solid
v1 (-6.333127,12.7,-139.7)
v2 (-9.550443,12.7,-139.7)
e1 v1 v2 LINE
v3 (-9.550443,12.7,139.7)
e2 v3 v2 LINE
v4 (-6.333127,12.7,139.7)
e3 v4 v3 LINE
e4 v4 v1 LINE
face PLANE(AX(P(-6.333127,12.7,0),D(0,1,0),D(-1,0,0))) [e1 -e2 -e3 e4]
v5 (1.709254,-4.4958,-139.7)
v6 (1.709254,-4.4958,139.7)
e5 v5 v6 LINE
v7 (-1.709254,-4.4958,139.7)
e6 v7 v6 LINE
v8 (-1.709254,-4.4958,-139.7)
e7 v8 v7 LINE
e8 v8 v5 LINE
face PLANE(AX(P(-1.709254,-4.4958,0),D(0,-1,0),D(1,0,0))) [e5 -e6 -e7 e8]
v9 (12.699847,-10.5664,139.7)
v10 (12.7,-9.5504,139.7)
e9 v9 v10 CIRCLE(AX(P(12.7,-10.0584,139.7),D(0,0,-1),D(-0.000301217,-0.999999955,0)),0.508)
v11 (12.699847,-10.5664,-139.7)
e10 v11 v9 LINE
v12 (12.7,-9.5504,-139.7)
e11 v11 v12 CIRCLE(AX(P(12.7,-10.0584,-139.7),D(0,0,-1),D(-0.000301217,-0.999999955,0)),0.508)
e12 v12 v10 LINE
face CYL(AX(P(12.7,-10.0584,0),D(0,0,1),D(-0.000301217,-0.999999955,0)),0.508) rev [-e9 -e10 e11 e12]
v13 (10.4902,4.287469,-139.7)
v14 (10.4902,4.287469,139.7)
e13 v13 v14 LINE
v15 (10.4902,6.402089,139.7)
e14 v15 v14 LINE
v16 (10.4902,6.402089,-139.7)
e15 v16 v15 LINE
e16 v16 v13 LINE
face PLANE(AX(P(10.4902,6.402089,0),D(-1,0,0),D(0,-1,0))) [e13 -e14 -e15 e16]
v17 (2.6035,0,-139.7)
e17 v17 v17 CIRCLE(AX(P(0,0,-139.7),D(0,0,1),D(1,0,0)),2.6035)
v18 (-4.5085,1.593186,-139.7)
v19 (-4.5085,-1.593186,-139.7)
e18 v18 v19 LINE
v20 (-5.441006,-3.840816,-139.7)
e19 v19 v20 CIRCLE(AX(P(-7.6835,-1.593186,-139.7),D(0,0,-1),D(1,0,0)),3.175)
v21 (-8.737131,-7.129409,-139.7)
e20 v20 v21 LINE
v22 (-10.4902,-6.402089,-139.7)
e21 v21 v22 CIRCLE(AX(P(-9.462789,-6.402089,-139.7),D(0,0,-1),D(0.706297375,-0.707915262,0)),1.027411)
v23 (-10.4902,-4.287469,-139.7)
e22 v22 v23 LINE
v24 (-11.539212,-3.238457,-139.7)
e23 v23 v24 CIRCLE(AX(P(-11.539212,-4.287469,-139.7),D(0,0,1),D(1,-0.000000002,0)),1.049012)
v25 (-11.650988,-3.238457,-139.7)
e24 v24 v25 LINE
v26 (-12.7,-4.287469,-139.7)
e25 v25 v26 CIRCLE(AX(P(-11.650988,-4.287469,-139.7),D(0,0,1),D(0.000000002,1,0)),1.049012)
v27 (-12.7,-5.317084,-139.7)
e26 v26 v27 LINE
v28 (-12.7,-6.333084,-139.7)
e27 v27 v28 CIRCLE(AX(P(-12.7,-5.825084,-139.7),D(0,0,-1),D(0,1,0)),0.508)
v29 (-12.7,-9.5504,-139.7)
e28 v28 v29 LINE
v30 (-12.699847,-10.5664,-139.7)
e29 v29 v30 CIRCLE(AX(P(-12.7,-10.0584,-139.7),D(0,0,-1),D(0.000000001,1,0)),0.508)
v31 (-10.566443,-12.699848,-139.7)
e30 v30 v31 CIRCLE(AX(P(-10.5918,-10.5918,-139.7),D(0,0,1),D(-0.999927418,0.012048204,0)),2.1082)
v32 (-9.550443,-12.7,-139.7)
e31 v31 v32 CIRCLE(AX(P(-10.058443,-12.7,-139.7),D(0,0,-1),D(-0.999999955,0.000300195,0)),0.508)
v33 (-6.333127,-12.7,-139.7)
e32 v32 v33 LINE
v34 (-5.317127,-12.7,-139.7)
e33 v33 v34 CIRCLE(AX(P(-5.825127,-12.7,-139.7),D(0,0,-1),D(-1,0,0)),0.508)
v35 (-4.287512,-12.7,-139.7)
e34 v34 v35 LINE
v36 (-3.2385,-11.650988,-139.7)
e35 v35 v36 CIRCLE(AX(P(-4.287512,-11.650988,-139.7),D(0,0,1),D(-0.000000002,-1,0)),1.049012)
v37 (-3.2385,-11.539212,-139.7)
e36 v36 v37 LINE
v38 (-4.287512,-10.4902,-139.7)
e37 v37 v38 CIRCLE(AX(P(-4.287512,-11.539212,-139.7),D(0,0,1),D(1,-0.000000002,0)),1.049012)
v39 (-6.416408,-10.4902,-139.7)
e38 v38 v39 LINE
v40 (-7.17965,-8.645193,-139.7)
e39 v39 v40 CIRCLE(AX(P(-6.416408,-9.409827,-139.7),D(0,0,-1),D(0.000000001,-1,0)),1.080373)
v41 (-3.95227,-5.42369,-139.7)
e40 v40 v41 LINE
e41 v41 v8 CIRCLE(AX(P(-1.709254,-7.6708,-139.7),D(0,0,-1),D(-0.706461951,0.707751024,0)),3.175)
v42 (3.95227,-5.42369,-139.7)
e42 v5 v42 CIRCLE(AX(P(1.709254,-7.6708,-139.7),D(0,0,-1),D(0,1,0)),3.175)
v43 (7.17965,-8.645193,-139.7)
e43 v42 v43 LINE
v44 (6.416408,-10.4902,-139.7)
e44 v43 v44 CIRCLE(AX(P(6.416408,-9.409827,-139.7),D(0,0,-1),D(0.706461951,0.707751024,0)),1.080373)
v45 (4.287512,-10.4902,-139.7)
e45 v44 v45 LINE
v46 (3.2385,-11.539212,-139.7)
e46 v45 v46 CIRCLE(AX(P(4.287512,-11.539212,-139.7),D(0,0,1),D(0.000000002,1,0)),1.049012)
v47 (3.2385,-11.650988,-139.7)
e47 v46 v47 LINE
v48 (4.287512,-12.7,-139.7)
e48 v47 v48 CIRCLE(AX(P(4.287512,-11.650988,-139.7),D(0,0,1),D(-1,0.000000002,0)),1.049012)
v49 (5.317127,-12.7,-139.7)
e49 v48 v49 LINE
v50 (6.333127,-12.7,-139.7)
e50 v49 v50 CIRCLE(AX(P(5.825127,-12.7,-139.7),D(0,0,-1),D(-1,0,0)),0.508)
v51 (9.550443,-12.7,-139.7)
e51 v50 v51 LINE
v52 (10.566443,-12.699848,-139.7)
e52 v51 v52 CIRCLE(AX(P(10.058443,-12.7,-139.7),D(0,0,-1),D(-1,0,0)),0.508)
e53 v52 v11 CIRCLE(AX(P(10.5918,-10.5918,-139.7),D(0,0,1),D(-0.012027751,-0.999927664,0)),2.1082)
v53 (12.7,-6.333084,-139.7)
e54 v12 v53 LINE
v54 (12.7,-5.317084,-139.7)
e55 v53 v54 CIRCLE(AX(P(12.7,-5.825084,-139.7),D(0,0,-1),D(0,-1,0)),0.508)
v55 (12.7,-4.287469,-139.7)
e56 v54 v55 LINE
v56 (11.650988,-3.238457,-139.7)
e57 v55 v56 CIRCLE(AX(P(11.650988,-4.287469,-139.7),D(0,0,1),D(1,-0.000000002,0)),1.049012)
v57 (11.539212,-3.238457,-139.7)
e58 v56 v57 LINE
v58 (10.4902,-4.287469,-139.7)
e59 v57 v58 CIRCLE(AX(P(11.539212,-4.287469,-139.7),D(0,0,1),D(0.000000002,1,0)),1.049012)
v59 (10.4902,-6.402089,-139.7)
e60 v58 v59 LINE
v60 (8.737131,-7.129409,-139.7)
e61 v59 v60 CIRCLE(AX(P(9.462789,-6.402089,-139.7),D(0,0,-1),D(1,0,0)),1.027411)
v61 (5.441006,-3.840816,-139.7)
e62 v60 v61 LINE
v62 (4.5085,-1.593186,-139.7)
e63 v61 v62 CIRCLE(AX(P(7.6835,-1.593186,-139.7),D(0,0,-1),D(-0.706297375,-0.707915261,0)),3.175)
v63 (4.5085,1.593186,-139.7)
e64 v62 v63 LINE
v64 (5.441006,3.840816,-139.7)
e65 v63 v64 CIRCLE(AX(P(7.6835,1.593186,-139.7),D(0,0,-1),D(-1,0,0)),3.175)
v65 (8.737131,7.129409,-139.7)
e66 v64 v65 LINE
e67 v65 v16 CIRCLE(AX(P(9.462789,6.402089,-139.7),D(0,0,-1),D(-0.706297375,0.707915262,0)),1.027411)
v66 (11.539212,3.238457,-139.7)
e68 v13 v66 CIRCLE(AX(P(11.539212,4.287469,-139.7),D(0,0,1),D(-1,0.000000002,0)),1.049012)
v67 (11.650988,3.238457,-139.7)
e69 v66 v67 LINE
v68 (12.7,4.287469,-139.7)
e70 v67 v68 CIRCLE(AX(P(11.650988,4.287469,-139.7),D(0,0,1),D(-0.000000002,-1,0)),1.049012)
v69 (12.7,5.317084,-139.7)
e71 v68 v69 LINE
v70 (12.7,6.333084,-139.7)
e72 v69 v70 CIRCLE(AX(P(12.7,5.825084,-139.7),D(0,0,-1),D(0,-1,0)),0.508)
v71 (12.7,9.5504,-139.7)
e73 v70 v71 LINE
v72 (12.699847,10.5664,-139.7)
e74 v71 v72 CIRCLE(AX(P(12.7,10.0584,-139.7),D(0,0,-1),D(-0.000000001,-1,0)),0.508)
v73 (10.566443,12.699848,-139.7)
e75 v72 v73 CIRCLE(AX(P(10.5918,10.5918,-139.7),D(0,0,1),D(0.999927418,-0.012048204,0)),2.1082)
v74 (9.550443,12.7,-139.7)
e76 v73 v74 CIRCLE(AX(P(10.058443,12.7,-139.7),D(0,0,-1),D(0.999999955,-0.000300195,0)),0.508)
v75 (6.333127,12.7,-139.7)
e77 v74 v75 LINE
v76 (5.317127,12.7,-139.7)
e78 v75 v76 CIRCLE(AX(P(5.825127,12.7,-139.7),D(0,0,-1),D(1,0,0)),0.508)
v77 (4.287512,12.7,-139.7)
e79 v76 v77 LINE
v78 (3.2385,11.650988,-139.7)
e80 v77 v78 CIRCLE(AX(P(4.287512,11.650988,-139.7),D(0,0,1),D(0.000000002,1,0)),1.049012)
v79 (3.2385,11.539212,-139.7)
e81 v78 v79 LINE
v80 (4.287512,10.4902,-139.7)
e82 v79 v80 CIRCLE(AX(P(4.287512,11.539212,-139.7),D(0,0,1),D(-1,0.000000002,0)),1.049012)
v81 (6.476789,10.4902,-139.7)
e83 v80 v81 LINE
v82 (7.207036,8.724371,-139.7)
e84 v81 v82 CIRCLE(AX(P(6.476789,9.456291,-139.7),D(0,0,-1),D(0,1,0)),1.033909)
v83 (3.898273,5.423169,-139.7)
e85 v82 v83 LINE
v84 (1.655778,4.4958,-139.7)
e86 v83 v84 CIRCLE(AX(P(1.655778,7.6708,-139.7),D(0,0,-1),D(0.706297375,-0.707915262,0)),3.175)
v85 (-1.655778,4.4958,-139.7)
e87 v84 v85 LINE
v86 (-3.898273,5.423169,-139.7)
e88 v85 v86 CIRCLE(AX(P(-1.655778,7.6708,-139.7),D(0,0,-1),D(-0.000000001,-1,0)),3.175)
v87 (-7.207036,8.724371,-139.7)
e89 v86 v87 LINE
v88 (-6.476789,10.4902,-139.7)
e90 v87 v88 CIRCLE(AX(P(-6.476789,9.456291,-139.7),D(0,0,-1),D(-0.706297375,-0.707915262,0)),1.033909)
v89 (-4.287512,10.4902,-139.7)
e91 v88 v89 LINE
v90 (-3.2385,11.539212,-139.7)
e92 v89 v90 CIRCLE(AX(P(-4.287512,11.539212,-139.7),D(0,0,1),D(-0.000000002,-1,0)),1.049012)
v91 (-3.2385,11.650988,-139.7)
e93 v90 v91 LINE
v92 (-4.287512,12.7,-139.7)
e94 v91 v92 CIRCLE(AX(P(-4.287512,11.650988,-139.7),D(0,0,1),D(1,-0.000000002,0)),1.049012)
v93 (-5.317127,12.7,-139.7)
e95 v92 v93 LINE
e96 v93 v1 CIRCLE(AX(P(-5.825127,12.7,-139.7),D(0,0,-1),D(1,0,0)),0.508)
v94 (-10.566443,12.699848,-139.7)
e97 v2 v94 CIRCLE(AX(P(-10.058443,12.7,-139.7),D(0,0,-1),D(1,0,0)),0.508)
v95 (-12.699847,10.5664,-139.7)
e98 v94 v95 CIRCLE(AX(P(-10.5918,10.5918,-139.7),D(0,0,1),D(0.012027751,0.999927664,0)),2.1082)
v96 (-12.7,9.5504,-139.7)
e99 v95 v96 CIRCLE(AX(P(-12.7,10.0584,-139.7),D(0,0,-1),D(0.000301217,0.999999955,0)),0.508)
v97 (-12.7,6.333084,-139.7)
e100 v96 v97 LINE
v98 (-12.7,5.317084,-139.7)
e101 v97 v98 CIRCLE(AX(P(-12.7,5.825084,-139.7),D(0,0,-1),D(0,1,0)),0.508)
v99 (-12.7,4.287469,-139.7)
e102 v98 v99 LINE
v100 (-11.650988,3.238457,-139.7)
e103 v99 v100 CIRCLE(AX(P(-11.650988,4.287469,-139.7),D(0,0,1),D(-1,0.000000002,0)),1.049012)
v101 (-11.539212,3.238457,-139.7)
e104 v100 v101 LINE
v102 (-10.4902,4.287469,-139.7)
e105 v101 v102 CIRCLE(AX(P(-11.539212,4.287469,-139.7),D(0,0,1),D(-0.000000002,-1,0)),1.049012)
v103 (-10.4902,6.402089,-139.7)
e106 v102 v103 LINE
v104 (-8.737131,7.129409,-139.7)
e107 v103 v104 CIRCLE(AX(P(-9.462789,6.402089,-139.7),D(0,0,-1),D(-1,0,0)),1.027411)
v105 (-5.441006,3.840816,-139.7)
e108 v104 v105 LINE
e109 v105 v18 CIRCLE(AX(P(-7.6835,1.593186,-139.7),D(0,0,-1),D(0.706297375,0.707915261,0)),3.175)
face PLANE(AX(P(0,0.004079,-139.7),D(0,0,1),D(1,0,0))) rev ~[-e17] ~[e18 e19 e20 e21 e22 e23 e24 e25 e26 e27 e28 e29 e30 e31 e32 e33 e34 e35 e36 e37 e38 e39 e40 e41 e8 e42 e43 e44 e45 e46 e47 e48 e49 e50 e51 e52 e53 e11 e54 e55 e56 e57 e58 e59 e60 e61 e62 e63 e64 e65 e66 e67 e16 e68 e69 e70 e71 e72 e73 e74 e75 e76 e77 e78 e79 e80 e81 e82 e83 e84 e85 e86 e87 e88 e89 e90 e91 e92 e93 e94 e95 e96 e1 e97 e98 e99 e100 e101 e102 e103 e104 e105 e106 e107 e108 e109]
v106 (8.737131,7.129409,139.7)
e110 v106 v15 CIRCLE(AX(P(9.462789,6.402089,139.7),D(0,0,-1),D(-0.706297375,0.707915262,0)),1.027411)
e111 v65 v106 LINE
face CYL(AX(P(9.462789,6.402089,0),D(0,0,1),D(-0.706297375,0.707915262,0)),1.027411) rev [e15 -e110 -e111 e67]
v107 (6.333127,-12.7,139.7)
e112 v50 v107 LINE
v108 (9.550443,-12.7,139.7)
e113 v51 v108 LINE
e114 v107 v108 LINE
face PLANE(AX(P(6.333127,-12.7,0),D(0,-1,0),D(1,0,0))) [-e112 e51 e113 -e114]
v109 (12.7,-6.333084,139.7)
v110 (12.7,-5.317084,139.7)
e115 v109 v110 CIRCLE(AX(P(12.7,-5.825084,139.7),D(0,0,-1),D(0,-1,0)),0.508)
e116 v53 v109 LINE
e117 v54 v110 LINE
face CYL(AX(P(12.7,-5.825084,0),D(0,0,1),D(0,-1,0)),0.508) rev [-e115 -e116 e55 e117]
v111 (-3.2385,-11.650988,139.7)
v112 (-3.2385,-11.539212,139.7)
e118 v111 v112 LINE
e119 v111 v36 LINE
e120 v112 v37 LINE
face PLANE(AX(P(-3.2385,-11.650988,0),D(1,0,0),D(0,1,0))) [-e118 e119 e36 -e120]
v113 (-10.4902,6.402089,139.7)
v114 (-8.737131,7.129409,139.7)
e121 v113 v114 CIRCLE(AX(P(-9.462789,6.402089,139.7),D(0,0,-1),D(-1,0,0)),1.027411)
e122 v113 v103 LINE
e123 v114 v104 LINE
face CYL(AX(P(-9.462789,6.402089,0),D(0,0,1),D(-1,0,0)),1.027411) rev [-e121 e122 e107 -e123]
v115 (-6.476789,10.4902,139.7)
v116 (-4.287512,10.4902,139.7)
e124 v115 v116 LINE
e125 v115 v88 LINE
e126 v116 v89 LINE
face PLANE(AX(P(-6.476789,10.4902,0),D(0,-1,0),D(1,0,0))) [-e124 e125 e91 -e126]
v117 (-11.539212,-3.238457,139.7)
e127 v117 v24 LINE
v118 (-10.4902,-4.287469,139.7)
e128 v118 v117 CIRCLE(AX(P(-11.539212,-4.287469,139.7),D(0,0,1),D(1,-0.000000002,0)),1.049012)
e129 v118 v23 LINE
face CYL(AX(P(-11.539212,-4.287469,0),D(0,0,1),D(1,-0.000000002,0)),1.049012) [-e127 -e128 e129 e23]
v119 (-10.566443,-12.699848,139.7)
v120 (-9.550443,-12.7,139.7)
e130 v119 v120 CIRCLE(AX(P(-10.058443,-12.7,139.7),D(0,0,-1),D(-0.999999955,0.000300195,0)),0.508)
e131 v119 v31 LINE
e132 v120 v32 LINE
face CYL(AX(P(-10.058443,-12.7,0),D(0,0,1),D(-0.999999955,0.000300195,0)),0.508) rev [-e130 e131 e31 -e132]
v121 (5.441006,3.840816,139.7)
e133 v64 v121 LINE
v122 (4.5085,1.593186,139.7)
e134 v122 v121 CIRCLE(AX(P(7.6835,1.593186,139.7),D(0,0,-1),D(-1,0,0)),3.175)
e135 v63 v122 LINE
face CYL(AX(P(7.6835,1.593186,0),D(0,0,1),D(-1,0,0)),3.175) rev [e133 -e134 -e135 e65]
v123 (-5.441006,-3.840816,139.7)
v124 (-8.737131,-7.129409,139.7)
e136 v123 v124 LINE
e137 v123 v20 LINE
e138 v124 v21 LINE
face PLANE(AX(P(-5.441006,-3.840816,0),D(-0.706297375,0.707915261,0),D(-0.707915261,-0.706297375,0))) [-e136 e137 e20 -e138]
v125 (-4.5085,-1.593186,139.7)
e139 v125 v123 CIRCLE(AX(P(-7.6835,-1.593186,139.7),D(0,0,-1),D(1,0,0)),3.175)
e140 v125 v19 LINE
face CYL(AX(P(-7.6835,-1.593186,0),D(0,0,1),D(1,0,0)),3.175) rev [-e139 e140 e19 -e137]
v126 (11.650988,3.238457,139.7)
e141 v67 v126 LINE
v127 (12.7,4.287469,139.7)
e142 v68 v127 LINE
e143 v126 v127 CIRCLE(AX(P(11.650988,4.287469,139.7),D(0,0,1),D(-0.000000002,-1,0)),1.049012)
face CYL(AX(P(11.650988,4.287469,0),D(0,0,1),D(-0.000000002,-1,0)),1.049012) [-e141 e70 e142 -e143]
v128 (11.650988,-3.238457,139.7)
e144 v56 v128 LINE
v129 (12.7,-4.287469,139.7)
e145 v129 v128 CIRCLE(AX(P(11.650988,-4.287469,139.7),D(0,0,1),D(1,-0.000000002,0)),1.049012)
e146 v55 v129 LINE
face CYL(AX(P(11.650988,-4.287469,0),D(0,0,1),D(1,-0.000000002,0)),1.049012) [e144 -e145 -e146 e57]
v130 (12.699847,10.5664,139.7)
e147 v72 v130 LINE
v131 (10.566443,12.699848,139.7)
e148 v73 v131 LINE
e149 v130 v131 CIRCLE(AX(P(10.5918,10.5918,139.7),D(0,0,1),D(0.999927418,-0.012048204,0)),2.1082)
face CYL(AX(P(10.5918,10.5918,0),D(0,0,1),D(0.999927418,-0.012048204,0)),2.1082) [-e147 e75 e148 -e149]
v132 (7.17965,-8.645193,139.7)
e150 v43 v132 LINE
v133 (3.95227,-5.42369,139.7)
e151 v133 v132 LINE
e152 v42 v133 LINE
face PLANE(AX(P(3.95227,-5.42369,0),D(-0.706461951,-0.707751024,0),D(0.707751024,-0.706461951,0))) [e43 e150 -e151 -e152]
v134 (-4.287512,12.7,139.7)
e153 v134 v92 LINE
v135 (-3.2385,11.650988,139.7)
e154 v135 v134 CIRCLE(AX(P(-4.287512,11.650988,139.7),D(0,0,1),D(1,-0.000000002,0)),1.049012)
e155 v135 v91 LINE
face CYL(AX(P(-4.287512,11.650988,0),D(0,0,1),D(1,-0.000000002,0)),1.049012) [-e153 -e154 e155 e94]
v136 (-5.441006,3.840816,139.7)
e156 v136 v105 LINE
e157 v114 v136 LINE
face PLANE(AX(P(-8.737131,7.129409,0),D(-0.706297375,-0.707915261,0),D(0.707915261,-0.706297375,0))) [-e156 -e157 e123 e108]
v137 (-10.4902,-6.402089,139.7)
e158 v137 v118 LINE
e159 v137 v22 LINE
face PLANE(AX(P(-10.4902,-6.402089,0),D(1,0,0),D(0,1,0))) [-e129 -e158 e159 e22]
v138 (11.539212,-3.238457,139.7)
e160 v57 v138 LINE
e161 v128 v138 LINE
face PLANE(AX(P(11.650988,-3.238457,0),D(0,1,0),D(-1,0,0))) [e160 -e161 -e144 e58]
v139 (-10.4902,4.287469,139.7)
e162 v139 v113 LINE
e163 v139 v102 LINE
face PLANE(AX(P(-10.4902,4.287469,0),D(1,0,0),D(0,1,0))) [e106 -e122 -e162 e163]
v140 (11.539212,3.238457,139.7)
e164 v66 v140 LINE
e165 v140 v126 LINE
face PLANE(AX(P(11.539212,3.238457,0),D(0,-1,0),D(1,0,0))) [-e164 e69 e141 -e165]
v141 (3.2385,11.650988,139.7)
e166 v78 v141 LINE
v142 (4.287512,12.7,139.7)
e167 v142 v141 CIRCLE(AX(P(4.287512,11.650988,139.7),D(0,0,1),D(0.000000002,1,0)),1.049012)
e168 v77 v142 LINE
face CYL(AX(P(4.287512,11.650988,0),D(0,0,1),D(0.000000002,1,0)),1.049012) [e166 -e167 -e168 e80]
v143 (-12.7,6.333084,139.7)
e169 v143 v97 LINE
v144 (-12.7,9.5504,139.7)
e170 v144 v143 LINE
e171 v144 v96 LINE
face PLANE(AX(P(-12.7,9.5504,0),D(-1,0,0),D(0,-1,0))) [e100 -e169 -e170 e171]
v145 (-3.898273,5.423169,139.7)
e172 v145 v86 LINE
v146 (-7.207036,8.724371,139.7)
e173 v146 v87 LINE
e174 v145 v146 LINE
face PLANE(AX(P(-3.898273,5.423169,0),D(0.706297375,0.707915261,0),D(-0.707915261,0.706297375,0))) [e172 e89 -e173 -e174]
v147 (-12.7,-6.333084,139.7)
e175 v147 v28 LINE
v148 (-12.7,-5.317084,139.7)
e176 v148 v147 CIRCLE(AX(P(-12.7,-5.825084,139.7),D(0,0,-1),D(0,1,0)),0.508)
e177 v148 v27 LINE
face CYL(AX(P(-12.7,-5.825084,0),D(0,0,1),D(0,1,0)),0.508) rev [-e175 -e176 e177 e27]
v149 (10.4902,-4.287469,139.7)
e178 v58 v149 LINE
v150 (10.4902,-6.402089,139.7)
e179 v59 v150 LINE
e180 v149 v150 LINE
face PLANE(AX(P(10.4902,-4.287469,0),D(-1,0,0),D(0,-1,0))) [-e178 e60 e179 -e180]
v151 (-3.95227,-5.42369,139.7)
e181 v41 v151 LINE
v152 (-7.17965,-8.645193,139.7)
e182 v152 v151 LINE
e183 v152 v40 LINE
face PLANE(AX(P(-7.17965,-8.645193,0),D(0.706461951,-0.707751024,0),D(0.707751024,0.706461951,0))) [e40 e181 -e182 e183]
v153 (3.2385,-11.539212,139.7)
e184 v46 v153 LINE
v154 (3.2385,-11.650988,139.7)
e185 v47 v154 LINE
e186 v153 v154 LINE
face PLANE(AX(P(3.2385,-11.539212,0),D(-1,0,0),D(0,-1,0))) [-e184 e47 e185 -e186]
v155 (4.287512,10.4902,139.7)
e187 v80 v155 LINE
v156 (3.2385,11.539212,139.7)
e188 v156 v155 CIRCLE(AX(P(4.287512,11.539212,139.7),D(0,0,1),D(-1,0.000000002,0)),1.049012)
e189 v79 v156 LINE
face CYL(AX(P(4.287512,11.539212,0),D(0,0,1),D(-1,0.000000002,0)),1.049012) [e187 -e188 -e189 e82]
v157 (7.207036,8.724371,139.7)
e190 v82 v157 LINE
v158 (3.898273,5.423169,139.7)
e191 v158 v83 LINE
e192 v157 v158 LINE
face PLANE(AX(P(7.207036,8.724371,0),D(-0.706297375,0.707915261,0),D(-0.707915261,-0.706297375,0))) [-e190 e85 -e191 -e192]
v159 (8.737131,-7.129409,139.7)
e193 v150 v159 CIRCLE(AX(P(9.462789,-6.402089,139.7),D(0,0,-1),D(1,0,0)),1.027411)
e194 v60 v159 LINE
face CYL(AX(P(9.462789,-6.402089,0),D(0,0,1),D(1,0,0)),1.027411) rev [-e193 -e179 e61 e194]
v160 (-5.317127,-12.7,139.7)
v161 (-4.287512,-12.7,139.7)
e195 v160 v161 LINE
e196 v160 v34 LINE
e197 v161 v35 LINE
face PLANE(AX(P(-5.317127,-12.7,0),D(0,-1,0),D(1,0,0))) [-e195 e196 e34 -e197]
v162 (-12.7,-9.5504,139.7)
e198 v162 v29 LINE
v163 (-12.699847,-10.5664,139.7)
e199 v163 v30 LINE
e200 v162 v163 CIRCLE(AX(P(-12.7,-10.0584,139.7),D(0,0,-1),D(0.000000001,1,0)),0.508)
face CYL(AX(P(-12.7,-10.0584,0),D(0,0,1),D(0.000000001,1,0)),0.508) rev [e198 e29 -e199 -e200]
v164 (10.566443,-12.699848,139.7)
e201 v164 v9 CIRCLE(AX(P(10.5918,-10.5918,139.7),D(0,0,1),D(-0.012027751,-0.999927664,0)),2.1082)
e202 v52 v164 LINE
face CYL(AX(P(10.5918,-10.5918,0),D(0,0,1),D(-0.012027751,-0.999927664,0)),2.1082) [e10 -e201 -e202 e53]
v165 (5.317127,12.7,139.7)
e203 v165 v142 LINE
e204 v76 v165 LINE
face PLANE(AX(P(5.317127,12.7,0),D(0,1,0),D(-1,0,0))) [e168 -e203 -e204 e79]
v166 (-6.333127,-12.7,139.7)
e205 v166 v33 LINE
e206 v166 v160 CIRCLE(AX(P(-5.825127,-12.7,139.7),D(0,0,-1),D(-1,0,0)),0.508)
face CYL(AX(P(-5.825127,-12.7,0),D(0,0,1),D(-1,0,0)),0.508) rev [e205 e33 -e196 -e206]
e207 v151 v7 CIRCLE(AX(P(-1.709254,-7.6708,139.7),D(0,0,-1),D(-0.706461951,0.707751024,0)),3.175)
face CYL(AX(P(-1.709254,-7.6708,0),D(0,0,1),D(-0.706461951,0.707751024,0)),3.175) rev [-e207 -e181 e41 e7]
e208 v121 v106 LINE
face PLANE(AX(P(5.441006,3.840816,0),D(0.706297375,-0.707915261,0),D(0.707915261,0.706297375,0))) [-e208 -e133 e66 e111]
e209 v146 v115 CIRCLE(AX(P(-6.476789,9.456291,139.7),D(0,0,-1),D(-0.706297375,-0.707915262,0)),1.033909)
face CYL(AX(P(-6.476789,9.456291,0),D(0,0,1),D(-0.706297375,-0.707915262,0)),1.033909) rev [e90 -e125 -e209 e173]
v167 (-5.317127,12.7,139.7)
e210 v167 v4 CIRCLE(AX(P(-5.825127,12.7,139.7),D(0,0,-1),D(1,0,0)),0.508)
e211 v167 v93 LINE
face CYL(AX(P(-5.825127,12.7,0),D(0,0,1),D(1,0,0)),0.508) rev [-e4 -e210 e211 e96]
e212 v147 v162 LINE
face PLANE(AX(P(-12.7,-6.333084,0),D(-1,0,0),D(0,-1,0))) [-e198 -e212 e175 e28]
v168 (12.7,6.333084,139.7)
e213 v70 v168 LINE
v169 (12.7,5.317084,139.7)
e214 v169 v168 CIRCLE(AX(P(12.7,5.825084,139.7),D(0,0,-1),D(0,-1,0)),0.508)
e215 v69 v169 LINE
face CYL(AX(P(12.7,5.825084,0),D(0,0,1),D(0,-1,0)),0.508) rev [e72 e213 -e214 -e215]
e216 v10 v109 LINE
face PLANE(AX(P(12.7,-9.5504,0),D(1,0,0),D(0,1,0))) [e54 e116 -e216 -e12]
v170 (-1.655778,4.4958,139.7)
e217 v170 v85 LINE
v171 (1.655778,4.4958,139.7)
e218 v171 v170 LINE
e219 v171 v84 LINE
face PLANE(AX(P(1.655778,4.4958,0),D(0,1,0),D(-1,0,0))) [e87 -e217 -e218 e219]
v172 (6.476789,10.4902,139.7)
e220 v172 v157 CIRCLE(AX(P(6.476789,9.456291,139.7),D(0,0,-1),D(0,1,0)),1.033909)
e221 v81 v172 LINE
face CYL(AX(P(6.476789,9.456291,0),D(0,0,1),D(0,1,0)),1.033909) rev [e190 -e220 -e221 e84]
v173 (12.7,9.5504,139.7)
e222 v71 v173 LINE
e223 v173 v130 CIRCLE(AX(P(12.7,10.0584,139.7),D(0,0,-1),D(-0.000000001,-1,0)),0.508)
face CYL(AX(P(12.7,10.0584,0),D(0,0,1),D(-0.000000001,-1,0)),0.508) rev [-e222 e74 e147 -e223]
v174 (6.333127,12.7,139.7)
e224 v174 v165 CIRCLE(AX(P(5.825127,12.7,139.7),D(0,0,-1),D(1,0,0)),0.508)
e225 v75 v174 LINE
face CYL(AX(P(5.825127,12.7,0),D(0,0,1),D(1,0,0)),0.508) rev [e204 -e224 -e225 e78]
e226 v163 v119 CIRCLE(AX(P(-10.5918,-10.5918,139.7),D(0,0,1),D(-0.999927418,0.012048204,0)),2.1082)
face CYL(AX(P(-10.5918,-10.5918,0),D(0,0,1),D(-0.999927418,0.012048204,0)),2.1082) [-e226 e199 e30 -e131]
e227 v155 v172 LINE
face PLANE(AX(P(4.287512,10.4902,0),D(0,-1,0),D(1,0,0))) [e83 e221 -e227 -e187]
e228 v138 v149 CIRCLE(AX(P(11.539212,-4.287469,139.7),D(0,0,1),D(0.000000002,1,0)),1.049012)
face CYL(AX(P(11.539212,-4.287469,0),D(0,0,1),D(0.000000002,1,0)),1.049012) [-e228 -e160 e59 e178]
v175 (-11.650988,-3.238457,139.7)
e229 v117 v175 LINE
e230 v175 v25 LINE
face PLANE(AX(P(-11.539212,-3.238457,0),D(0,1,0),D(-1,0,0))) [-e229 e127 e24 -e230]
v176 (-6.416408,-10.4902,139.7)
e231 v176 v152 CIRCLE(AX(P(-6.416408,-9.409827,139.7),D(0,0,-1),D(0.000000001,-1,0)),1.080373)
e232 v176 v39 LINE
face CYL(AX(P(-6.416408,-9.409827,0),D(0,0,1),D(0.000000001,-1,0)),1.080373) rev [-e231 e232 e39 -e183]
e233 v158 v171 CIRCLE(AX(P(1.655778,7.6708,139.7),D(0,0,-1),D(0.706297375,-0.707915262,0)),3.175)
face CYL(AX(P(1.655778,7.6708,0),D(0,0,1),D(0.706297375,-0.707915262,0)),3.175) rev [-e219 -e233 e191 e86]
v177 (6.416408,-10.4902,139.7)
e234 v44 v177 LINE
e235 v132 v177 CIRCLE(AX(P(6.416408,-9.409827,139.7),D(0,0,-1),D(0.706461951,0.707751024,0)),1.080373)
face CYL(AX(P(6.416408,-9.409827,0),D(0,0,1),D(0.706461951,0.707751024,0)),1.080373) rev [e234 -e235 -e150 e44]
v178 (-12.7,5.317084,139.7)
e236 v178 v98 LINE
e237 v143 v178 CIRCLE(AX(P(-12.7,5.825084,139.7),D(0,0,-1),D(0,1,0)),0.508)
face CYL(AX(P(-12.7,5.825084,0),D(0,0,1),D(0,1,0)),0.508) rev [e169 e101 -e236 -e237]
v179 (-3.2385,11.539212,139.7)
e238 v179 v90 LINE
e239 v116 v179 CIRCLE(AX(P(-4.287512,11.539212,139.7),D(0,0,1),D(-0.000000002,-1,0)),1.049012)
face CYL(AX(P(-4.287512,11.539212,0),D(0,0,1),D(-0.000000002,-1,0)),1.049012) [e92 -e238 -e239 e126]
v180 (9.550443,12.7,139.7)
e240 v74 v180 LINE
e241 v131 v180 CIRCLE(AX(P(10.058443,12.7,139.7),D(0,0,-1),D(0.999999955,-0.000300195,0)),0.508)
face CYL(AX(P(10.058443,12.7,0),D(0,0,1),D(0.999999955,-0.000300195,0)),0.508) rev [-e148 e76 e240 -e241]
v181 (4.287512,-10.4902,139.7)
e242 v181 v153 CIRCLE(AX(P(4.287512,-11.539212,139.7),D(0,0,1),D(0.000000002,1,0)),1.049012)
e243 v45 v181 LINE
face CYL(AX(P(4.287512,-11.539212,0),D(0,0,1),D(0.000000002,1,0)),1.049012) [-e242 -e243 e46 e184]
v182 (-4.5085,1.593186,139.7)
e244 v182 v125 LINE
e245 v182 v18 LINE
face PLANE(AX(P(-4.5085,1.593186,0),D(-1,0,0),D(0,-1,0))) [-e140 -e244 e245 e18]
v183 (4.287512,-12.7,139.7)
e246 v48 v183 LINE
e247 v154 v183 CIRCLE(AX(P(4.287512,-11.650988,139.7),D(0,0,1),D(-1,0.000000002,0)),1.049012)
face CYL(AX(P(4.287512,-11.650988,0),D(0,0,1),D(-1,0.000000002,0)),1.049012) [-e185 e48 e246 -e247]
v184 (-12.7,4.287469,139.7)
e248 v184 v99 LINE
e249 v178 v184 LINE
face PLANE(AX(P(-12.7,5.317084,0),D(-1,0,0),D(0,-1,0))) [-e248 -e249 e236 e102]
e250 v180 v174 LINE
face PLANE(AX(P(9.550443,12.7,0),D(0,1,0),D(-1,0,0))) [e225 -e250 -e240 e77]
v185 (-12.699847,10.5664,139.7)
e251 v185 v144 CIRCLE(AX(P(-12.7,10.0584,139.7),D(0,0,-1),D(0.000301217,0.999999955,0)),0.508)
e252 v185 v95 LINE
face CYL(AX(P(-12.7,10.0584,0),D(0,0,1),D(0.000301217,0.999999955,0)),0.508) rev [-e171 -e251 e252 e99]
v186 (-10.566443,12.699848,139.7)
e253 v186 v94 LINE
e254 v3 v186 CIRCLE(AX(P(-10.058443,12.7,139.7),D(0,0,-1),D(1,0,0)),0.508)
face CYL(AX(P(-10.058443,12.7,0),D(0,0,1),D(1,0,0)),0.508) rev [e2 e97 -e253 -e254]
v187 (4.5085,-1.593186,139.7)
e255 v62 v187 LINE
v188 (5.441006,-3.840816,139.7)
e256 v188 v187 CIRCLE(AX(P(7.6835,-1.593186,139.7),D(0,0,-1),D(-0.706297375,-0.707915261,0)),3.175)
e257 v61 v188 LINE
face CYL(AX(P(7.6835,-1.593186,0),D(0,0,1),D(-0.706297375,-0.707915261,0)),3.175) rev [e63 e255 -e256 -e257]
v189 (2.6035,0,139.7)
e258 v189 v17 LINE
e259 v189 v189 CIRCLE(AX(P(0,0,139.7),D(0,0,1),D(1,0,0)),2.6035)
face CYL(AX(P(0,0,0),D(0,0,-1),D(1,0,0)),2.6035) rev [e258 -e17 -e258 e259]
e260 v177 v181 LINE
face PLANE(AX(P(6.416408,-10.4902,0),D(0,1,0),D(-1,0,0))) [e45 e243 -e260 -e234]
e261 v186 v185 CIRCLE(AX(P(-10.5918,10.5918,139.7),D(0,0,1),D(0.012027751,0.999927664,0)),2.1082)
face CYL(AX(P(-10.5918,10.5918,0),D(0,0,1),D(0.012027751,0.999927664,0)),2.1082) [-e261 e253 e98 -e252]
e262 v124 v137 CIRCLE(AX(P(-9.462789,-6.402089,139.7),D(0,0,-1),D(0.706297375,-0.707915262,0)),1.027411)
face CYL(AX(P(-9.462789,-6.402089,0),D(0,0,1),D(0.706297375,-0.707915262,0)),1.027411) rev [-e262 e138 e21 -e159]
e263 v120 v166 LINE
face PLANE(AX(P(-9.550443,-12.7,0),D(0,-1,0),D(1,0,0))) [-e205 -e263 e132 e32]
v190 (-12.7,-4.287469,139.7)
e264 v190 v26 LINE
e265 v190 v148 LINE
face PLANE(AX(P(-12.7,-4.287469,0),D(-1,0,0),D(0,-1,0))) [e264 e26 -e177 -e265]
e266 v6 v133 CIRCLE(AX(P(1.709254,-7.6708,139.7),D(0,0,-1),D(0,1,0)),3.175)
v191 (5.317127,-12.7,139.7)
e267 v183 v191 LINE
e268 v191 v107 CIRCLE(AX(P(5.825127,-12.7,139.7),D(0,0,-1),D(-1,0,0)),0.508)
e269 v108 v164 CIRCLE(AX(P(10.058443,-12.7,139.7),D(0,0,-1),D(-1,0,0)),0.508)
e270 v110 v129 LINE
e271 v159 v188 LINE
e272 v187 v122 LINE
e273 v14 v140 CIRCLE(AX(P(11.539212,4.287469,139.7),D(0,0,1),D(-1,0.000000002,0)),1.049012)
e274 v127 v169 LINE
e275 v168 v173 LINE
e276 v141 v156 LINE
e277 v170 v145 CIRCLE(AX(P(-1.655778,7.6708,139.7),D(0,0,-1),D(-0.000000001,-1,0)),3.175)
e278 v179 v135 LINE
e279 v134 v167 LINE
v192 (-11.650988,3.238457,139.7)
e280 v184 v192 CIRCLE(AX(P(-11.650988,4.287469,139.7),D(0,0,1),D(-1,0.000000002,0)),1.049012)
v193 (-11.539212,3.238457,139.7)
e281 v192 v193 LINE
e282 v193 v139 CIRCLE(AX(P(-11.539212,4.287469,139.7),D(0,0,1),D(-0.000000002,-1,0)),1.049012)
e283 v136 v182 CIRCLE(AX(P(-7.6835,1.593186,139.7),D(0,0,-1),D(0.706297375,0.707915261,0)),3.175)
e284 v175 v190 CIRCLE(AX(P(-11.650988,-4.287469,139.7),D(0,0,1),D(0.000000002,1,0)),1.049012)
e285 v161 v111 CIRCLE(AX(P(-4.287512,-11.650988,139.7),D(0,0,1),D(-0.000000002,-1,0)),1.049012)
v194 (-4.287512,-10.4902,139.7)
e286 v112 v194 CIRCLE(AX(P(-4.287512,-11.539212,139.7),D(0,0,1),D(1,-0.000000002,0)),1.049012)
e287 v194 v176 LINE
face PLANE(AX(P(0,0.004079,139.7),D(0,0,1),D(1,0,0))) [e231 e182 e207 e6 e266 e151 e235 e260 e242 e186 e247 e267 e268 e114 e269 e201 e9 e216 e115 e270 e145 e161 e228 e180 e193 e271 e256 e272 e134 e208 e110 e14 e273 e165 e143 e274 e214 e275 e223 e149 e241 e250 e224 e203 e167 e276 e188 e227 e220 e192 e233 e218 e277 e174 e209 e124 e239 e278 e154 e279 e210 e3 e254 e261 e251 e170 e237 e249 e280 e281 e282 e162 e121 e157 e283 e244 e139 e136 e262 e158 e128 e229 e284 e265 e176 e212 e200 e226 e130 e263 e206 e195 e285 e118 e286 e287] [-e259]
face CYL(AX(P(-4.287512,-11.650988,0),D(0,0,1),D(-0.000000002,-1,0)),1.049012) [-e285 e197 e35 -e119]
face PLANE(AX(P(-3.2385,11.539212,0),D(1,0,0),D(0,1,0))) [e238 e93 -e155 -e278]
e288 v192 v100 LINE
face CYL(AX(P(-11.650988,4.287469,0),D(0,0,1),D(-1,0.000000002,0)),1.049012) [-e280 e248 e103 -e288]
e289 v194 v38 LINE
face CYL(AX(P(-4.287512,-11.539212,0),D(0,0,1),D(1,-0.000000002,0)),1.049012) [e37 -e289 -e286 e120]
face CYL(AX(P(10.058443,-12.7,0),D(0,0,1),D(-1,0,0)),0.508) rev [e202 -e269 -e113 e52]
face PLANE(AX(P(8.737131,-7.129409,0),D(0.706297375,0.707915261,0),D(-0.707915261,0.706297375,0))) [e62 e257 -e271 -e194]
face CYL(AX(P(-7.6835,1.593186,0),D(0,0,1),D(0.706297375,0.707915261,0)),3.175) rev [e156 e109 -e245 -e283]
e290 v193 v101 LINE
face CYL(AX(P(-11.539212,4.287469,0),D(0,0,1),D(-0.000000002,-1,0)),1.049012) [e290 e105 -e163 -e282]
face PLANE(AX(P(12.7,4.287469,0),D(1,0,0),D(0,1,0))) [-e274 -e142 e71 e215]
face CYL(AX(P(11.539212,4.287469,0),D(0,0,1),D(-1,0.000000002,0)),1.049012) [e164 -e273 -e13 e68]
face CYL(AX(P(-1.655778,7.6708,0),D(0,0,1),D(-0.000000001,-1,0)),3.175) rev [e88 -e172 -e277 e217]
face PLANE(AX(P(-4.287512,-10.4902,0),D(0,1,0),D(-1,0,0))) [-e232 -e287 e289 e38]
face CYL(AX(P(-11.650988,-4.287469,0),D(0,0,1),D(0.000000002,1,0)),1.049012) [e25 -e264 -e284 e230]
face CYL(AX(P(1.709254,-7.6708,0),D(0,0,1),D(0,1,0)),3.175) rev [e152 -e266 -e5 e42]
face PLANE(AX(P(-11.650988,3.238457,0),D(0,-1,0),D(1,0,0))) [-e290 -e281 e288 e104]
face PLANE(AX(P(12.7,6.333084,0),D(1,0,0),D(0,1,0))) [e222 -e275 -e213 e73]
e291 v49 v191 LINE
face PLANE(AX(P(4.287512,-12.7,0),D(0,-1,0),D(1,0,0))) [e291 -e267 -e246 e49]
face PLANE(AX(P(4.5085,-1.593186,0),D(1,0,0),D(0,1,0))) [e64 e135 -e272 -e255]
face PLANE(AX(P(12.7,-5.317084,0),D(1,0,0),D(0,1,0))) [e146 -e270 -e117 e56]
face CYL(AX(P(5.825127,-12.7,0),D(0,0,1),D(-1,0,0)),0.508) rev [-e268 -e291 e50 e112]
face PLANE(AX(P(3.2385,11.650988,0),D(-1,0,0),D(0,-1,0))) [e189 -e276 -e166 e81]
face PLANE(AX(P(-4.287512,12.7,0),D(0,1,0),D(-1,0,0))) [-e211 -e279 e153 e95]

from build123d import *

# Parameters (mm, degrees)
SKETCH1_R           = 2.6035
BOSS_EXTRUDE1_DEPTH = 139.7


with BuildPart() as part:
    # Sketch1 → Boss-Extrude1 (new, symmetric)
    with BuildSketch(Plane.XY):
        with BuildLine():
            Line((-7.179650497, -8.645192506), (-3.952270251, -5.423690499))
            ThreePointArc((-3.952270251, -5.423690499), (-2.922936451, -4.736929036), (-1.709253557, -4.4958))
            Line((-1.709253557, -4.4958), (1.709253557, -4.4958))
            ThreePointArc((1.709253557, -4.4958), (2.922936451, -4.736929036), (3.952270251, -5.423690499))
            Line((3.952270251, -5.423690499), (7.179650497, -8.645192506))
            ThreePointArc((7.179650497, -8.645192506), (7.41473083, -9.822813117), (6.416408329, -10.4902))
            Line((6.416408329, -10.4902), (4.287512407, -10.4902))
            ThreePointArc((4.287512407, -10.4902), (3.54574862, -10.79744862), (3.2385, -11.539212407))
            Line((3.2385, -11.539212407), (3.2385, -11.650987593))
            ThreePointArc((3.2385, -11.650987593), (3.54574862, -12.39275138), (4.287512407, -12.7))
            Line((4.287512407, -12.7), (5.317126718, -12.7))
            ThreePointArc((5.317126718, -12.7), (5.825126718, -12.192), (6.333126718, -12.7))
            Line((6.333126718, -12.7), (9.550443118, -12.7))
            ThreePointArc((9.550443118, -12.7), (10.058366869, -12.192000006), (10.566443095, -12.699847501))
            ThreePointArc((10.566443095, -12.699847501), (12.082537762, -12.08250727), (12.699846982, -10.566399977))
            ThreePointArc((12.699846982, -10.566399977), (12.192000006, -10.058323491), (12.7, -9.5504))
            Line((12.7, -9.5504), (12.7, -6.3330836))
            ThreePointArc((12.7, -6.3330836), (12.192, -5.8250836), (12.7, -5.3170836))
            Line((12.7, -5.3170836), (12.7, -4.287469289))
            ThreePointArc((12.7, -4.287469289), (12.39275138, -3.545705502), (11.650987593, -3.238456882))
            Line((11.650987593, -3.238456882), (11.539212407, -3.238456882))
            ThreePointArc((11.539212407, -3.238456882), (10.79744862, -3.545705502), (10.4902, -4.287469289))
            Line((10.4902, -4.287469289), (10.4902, -6.402089023))
            ThreePointArc((10.4902, -6.402089023), (9.856505071, -7.351067942), (8.737131347, -7.129408934))
            Line((8.737131347, -7.129408934), (5.441005833, -3.840816462))
            ThreePointArc((5.441005833, -3.840816462), (4.750877967, -2.809883091), (4.5085, -1.593185507))
            Line((4.5085, -1.593185507), (4.5085, 1.593185507))
            ThreePointArc((4.5085, 1.593185507), (4.750877967, 2.809883091), (5.441005833, 3.840816462))
            Line((5.441005833, 3.840816462), (8.737131347, 7.129408934))
            ThreePointArc((8.737131347, 7.129408934), (9.856505071, 7.351067942), (10.4902, 6.402089023))
            Line((10.4902, 6.402089023), (10.4902, 4.287469289))
            ThreePointArc((10.4902, 4.287469289), (10.79744862, 3.545705502), (11.539212407, 3.238456882))
            Line((11.539212407, 3.238456882), (11.650987593, 3.238456882))
            ThreePointArc((11.650987593, 3.238456882), (12.39275138, 3.545705502), (12.7, 4.287469289))
            Line((12.7, 4.287469289), (12.7, 5.3170836))
            ThreePointArc((12.7, 5.3170836), (12.192, 5.8250836), (12.7, 6.3330836))
            Line((12.7, 6.3330836), (12.7, 9.5504))
            ThreePointArc((12.7, 9.5504), (12.192000006, 10.058323491), (12.699846982, 10.566399977))
            ThreePointArc((12.699846982, 10.566399977), (12.082537762, 12.08250727), (10.566443095, 12.699847501))
            ThreePointArc((10.566443095, 12.699847501), (10.058366869, 12.192000006), (9.550443118, 12.7))
            Line((9.550443118, 12.7), (6.333126718, 12.7))
            ThreePointArc((6.333126718, 12.7), (5.825126718, 12.192), (5.317126718, 12.7))
            Line((5.317126718, 12.7), (4.287512407, 12.7))
            ThreePointArc((4.287512407, 12.7), (3.54574862, 12.39275138), (3.2385, 11.650987593))
            Line((3.2385, 11.650987593), (3.2385, 11.539212407))
            ThreePointArc((3.2385, 11.539212407), (3.54574862, 10.79744862), (4.287512407, 10.4902))
            Line((4.287512407, 10.4902), (6.476788598, 10.4902))
            ThreePointArc((6.476788598, 10.4902), (7.432222385, 9.85140422), (7.207036008, 8.724370562))
            Line((7.207036008, 8.724370562), (3.898272566, 5.423169045))
            ThreePointArc((3.898272566, 5.423169045), (2.869120213, 4.736787962), (1.655778399, 4.4958))
            Line((1.655778399, 4.4958), (-1.655778399, 4.4958))
            ThreePointArc((-1.655778399, 4.4958), (-2.869120213, 4.736787962), (-3.898272566, 5.423169045))
            Line((-3.898272566, 5.423169045), (-7.207036008, 8.724370562))
            ThreePointArc((-7.207036008, 8.724370562), (-7.432222385, 9.85140422), (-6.476788598, 10.4902))
            Line((-6.476788598, 10.4902), (-4.287512407, 10.4902))
            ThreePointArc((-4.287512407, 10.4902), (-3.54574862, 10.79744862), (-3.2385, 11.539212407))
            Line((-3.2385, 11.539212407), (-3.2385, 11.650987593))
            ThreePointArc((-3.2385, 11.650987593), (-3.54574862, 12.39275138), (-4.287512407, 12.7))
            Line((-4.287512407, 12.7), (-5.317126718, 12.7))
            ThreePointArc((-5.317126718, 12.7), (-5.825126718, 12.192), (-6.333126718, 12.7))
            Line((-6.333126718, 12.7), (-9.550443118, 12.7))
            ThreePointArc((-9.550443118, 12.7), (-10.058366869, 12.192000006), (-10.566443095, 12.699847501))
            ThreePointArc((-10.566443095, 12.699847501), (-12.082537762, 12.08250727), (-12.699846982, 10.566399977))
            ThreePointArc((-12.699846982, 10.566399977), (-12.192000006, 10.058323491), (-12.7, 9.5504))
            Line((-12.7, 9.5504), (-12.7, 6.3330836))
            ThreePointArc((-12.7, 6.3330836), (-12.192, 5.8250836), (-12.7, 5.3170836))
            Line((-12.7, 5.3170836), (-12.7, 4.287469289))
            ThreePointArc((-12.7, 4.287469289), (-12.39275138, 3.545705502), (-11.650987593, 3.238456882))
            Line((-11.650987593, 3.238456882), (-11.539212407, 3.238456882))
            ThreePointArc((-11.539212407, 3.238456882), (-10.79744862, 3.545705502), (-10.4902, 4.287469289))
            Line((-10.4902, 4.287469289), (-10.4902, 6.402089023))
            ThreePointArc((-10.4902, 6.402089023), (-9.856505071, 7.351067942), (-8.737131347, 7.129408934))
            Line((-8.737131347, 7.129408934), (-5.441005833, 3.840816462))
            ThreePointArc((-5.441005833, 3.840816462), (-4.750877967, 2.809883091), (-4.5085, 1.593185507))
            Line((-4.5085, 1.593185507), (-4.5085, -1.593185507))
            ThreePointArc((-4.5085, -1.593185507), (-4.750877967, -2.809883091), (-5.441005833, -3.840816462))
            Line((-5.441005833, -3.840816462), (-8.737131347, -7.129408934))
            ThreePointArc((-8.737131347, -7.129408934), (-9.856505071, -7.351067942), (-10.4902, -6.402089023))
            Line((-10.4902, -6.402089023), (-10.4902, -4.287469289))
            ThreePointArc((-10.4902, -4.287469289), (-10.79744862, -3.545705502), (-11.539212407, -3.238456882))
            Line((-11.539212407, -3.238456882), (-11.650987593, -3.238456882))
            ThreePointArc((-11.650987593, -3.238456882), (-12.39275138, -3.545705502), (-12.7, -4.287469289))
            Line((-12.7, -4.287469289), (-12.7, -5.3170836))
            ThreePointArc((-12.7, -5.3170836), (-12.192, -5.8250836), (-12.7, -6.3330836))
            Line((-12.7, -6.3330836), (-12.7, -9.5504))
            ThreePointArc((-12.7, -9.5504), (-12.192000006, -10.058323491), (-12.699846982, -10.566399977))
            ThreePointArc((-12.699846982, -10.566399977), (-12.082537762, -12.08250727), (-10.566443095, -12.699847501))
            ThreePointArc((-10.566443095, -12.699847501), (-10.058366869, -12.192000006), (-9.550443118, -12.7))
            Line((-9.550443118, -12.7), (-6.333126718, -12.7))
            ThreePointArc((-6.333126718, -12.7), (-5.825126718, -12.192), (-5.317126718, -12.7))
            Line((-5.317126718, -12.7), (-4.287512407, -12.7))
            ThreePointArc((-4.287512407, -12.7), (-3.54574862, -12.39275138), (-3.2385, -11.650987593))
            Line((-3.2385, -11.650987593), (-3.2385, -11.539212407))
            ThreePointArc((-3.2385, -11.539212407), (-3.54574862, -10.79744862), (-4.287512407, -10.4902))
            Line((-4.287512407, -10.4902), (-6.416408329, -10.4902))
            ThreePointArc((-6.416408329, -10.4902), (-7.41473083, -9.822813117), (-7.179650497, -8.645192506))
        make_face()
        Circle(SKETCH1_R, mode=Mode.SUBTRACT)
    extrude(amount=BOSS_EXTRUDE1_DEPTH, both=True)


solid = part.part
